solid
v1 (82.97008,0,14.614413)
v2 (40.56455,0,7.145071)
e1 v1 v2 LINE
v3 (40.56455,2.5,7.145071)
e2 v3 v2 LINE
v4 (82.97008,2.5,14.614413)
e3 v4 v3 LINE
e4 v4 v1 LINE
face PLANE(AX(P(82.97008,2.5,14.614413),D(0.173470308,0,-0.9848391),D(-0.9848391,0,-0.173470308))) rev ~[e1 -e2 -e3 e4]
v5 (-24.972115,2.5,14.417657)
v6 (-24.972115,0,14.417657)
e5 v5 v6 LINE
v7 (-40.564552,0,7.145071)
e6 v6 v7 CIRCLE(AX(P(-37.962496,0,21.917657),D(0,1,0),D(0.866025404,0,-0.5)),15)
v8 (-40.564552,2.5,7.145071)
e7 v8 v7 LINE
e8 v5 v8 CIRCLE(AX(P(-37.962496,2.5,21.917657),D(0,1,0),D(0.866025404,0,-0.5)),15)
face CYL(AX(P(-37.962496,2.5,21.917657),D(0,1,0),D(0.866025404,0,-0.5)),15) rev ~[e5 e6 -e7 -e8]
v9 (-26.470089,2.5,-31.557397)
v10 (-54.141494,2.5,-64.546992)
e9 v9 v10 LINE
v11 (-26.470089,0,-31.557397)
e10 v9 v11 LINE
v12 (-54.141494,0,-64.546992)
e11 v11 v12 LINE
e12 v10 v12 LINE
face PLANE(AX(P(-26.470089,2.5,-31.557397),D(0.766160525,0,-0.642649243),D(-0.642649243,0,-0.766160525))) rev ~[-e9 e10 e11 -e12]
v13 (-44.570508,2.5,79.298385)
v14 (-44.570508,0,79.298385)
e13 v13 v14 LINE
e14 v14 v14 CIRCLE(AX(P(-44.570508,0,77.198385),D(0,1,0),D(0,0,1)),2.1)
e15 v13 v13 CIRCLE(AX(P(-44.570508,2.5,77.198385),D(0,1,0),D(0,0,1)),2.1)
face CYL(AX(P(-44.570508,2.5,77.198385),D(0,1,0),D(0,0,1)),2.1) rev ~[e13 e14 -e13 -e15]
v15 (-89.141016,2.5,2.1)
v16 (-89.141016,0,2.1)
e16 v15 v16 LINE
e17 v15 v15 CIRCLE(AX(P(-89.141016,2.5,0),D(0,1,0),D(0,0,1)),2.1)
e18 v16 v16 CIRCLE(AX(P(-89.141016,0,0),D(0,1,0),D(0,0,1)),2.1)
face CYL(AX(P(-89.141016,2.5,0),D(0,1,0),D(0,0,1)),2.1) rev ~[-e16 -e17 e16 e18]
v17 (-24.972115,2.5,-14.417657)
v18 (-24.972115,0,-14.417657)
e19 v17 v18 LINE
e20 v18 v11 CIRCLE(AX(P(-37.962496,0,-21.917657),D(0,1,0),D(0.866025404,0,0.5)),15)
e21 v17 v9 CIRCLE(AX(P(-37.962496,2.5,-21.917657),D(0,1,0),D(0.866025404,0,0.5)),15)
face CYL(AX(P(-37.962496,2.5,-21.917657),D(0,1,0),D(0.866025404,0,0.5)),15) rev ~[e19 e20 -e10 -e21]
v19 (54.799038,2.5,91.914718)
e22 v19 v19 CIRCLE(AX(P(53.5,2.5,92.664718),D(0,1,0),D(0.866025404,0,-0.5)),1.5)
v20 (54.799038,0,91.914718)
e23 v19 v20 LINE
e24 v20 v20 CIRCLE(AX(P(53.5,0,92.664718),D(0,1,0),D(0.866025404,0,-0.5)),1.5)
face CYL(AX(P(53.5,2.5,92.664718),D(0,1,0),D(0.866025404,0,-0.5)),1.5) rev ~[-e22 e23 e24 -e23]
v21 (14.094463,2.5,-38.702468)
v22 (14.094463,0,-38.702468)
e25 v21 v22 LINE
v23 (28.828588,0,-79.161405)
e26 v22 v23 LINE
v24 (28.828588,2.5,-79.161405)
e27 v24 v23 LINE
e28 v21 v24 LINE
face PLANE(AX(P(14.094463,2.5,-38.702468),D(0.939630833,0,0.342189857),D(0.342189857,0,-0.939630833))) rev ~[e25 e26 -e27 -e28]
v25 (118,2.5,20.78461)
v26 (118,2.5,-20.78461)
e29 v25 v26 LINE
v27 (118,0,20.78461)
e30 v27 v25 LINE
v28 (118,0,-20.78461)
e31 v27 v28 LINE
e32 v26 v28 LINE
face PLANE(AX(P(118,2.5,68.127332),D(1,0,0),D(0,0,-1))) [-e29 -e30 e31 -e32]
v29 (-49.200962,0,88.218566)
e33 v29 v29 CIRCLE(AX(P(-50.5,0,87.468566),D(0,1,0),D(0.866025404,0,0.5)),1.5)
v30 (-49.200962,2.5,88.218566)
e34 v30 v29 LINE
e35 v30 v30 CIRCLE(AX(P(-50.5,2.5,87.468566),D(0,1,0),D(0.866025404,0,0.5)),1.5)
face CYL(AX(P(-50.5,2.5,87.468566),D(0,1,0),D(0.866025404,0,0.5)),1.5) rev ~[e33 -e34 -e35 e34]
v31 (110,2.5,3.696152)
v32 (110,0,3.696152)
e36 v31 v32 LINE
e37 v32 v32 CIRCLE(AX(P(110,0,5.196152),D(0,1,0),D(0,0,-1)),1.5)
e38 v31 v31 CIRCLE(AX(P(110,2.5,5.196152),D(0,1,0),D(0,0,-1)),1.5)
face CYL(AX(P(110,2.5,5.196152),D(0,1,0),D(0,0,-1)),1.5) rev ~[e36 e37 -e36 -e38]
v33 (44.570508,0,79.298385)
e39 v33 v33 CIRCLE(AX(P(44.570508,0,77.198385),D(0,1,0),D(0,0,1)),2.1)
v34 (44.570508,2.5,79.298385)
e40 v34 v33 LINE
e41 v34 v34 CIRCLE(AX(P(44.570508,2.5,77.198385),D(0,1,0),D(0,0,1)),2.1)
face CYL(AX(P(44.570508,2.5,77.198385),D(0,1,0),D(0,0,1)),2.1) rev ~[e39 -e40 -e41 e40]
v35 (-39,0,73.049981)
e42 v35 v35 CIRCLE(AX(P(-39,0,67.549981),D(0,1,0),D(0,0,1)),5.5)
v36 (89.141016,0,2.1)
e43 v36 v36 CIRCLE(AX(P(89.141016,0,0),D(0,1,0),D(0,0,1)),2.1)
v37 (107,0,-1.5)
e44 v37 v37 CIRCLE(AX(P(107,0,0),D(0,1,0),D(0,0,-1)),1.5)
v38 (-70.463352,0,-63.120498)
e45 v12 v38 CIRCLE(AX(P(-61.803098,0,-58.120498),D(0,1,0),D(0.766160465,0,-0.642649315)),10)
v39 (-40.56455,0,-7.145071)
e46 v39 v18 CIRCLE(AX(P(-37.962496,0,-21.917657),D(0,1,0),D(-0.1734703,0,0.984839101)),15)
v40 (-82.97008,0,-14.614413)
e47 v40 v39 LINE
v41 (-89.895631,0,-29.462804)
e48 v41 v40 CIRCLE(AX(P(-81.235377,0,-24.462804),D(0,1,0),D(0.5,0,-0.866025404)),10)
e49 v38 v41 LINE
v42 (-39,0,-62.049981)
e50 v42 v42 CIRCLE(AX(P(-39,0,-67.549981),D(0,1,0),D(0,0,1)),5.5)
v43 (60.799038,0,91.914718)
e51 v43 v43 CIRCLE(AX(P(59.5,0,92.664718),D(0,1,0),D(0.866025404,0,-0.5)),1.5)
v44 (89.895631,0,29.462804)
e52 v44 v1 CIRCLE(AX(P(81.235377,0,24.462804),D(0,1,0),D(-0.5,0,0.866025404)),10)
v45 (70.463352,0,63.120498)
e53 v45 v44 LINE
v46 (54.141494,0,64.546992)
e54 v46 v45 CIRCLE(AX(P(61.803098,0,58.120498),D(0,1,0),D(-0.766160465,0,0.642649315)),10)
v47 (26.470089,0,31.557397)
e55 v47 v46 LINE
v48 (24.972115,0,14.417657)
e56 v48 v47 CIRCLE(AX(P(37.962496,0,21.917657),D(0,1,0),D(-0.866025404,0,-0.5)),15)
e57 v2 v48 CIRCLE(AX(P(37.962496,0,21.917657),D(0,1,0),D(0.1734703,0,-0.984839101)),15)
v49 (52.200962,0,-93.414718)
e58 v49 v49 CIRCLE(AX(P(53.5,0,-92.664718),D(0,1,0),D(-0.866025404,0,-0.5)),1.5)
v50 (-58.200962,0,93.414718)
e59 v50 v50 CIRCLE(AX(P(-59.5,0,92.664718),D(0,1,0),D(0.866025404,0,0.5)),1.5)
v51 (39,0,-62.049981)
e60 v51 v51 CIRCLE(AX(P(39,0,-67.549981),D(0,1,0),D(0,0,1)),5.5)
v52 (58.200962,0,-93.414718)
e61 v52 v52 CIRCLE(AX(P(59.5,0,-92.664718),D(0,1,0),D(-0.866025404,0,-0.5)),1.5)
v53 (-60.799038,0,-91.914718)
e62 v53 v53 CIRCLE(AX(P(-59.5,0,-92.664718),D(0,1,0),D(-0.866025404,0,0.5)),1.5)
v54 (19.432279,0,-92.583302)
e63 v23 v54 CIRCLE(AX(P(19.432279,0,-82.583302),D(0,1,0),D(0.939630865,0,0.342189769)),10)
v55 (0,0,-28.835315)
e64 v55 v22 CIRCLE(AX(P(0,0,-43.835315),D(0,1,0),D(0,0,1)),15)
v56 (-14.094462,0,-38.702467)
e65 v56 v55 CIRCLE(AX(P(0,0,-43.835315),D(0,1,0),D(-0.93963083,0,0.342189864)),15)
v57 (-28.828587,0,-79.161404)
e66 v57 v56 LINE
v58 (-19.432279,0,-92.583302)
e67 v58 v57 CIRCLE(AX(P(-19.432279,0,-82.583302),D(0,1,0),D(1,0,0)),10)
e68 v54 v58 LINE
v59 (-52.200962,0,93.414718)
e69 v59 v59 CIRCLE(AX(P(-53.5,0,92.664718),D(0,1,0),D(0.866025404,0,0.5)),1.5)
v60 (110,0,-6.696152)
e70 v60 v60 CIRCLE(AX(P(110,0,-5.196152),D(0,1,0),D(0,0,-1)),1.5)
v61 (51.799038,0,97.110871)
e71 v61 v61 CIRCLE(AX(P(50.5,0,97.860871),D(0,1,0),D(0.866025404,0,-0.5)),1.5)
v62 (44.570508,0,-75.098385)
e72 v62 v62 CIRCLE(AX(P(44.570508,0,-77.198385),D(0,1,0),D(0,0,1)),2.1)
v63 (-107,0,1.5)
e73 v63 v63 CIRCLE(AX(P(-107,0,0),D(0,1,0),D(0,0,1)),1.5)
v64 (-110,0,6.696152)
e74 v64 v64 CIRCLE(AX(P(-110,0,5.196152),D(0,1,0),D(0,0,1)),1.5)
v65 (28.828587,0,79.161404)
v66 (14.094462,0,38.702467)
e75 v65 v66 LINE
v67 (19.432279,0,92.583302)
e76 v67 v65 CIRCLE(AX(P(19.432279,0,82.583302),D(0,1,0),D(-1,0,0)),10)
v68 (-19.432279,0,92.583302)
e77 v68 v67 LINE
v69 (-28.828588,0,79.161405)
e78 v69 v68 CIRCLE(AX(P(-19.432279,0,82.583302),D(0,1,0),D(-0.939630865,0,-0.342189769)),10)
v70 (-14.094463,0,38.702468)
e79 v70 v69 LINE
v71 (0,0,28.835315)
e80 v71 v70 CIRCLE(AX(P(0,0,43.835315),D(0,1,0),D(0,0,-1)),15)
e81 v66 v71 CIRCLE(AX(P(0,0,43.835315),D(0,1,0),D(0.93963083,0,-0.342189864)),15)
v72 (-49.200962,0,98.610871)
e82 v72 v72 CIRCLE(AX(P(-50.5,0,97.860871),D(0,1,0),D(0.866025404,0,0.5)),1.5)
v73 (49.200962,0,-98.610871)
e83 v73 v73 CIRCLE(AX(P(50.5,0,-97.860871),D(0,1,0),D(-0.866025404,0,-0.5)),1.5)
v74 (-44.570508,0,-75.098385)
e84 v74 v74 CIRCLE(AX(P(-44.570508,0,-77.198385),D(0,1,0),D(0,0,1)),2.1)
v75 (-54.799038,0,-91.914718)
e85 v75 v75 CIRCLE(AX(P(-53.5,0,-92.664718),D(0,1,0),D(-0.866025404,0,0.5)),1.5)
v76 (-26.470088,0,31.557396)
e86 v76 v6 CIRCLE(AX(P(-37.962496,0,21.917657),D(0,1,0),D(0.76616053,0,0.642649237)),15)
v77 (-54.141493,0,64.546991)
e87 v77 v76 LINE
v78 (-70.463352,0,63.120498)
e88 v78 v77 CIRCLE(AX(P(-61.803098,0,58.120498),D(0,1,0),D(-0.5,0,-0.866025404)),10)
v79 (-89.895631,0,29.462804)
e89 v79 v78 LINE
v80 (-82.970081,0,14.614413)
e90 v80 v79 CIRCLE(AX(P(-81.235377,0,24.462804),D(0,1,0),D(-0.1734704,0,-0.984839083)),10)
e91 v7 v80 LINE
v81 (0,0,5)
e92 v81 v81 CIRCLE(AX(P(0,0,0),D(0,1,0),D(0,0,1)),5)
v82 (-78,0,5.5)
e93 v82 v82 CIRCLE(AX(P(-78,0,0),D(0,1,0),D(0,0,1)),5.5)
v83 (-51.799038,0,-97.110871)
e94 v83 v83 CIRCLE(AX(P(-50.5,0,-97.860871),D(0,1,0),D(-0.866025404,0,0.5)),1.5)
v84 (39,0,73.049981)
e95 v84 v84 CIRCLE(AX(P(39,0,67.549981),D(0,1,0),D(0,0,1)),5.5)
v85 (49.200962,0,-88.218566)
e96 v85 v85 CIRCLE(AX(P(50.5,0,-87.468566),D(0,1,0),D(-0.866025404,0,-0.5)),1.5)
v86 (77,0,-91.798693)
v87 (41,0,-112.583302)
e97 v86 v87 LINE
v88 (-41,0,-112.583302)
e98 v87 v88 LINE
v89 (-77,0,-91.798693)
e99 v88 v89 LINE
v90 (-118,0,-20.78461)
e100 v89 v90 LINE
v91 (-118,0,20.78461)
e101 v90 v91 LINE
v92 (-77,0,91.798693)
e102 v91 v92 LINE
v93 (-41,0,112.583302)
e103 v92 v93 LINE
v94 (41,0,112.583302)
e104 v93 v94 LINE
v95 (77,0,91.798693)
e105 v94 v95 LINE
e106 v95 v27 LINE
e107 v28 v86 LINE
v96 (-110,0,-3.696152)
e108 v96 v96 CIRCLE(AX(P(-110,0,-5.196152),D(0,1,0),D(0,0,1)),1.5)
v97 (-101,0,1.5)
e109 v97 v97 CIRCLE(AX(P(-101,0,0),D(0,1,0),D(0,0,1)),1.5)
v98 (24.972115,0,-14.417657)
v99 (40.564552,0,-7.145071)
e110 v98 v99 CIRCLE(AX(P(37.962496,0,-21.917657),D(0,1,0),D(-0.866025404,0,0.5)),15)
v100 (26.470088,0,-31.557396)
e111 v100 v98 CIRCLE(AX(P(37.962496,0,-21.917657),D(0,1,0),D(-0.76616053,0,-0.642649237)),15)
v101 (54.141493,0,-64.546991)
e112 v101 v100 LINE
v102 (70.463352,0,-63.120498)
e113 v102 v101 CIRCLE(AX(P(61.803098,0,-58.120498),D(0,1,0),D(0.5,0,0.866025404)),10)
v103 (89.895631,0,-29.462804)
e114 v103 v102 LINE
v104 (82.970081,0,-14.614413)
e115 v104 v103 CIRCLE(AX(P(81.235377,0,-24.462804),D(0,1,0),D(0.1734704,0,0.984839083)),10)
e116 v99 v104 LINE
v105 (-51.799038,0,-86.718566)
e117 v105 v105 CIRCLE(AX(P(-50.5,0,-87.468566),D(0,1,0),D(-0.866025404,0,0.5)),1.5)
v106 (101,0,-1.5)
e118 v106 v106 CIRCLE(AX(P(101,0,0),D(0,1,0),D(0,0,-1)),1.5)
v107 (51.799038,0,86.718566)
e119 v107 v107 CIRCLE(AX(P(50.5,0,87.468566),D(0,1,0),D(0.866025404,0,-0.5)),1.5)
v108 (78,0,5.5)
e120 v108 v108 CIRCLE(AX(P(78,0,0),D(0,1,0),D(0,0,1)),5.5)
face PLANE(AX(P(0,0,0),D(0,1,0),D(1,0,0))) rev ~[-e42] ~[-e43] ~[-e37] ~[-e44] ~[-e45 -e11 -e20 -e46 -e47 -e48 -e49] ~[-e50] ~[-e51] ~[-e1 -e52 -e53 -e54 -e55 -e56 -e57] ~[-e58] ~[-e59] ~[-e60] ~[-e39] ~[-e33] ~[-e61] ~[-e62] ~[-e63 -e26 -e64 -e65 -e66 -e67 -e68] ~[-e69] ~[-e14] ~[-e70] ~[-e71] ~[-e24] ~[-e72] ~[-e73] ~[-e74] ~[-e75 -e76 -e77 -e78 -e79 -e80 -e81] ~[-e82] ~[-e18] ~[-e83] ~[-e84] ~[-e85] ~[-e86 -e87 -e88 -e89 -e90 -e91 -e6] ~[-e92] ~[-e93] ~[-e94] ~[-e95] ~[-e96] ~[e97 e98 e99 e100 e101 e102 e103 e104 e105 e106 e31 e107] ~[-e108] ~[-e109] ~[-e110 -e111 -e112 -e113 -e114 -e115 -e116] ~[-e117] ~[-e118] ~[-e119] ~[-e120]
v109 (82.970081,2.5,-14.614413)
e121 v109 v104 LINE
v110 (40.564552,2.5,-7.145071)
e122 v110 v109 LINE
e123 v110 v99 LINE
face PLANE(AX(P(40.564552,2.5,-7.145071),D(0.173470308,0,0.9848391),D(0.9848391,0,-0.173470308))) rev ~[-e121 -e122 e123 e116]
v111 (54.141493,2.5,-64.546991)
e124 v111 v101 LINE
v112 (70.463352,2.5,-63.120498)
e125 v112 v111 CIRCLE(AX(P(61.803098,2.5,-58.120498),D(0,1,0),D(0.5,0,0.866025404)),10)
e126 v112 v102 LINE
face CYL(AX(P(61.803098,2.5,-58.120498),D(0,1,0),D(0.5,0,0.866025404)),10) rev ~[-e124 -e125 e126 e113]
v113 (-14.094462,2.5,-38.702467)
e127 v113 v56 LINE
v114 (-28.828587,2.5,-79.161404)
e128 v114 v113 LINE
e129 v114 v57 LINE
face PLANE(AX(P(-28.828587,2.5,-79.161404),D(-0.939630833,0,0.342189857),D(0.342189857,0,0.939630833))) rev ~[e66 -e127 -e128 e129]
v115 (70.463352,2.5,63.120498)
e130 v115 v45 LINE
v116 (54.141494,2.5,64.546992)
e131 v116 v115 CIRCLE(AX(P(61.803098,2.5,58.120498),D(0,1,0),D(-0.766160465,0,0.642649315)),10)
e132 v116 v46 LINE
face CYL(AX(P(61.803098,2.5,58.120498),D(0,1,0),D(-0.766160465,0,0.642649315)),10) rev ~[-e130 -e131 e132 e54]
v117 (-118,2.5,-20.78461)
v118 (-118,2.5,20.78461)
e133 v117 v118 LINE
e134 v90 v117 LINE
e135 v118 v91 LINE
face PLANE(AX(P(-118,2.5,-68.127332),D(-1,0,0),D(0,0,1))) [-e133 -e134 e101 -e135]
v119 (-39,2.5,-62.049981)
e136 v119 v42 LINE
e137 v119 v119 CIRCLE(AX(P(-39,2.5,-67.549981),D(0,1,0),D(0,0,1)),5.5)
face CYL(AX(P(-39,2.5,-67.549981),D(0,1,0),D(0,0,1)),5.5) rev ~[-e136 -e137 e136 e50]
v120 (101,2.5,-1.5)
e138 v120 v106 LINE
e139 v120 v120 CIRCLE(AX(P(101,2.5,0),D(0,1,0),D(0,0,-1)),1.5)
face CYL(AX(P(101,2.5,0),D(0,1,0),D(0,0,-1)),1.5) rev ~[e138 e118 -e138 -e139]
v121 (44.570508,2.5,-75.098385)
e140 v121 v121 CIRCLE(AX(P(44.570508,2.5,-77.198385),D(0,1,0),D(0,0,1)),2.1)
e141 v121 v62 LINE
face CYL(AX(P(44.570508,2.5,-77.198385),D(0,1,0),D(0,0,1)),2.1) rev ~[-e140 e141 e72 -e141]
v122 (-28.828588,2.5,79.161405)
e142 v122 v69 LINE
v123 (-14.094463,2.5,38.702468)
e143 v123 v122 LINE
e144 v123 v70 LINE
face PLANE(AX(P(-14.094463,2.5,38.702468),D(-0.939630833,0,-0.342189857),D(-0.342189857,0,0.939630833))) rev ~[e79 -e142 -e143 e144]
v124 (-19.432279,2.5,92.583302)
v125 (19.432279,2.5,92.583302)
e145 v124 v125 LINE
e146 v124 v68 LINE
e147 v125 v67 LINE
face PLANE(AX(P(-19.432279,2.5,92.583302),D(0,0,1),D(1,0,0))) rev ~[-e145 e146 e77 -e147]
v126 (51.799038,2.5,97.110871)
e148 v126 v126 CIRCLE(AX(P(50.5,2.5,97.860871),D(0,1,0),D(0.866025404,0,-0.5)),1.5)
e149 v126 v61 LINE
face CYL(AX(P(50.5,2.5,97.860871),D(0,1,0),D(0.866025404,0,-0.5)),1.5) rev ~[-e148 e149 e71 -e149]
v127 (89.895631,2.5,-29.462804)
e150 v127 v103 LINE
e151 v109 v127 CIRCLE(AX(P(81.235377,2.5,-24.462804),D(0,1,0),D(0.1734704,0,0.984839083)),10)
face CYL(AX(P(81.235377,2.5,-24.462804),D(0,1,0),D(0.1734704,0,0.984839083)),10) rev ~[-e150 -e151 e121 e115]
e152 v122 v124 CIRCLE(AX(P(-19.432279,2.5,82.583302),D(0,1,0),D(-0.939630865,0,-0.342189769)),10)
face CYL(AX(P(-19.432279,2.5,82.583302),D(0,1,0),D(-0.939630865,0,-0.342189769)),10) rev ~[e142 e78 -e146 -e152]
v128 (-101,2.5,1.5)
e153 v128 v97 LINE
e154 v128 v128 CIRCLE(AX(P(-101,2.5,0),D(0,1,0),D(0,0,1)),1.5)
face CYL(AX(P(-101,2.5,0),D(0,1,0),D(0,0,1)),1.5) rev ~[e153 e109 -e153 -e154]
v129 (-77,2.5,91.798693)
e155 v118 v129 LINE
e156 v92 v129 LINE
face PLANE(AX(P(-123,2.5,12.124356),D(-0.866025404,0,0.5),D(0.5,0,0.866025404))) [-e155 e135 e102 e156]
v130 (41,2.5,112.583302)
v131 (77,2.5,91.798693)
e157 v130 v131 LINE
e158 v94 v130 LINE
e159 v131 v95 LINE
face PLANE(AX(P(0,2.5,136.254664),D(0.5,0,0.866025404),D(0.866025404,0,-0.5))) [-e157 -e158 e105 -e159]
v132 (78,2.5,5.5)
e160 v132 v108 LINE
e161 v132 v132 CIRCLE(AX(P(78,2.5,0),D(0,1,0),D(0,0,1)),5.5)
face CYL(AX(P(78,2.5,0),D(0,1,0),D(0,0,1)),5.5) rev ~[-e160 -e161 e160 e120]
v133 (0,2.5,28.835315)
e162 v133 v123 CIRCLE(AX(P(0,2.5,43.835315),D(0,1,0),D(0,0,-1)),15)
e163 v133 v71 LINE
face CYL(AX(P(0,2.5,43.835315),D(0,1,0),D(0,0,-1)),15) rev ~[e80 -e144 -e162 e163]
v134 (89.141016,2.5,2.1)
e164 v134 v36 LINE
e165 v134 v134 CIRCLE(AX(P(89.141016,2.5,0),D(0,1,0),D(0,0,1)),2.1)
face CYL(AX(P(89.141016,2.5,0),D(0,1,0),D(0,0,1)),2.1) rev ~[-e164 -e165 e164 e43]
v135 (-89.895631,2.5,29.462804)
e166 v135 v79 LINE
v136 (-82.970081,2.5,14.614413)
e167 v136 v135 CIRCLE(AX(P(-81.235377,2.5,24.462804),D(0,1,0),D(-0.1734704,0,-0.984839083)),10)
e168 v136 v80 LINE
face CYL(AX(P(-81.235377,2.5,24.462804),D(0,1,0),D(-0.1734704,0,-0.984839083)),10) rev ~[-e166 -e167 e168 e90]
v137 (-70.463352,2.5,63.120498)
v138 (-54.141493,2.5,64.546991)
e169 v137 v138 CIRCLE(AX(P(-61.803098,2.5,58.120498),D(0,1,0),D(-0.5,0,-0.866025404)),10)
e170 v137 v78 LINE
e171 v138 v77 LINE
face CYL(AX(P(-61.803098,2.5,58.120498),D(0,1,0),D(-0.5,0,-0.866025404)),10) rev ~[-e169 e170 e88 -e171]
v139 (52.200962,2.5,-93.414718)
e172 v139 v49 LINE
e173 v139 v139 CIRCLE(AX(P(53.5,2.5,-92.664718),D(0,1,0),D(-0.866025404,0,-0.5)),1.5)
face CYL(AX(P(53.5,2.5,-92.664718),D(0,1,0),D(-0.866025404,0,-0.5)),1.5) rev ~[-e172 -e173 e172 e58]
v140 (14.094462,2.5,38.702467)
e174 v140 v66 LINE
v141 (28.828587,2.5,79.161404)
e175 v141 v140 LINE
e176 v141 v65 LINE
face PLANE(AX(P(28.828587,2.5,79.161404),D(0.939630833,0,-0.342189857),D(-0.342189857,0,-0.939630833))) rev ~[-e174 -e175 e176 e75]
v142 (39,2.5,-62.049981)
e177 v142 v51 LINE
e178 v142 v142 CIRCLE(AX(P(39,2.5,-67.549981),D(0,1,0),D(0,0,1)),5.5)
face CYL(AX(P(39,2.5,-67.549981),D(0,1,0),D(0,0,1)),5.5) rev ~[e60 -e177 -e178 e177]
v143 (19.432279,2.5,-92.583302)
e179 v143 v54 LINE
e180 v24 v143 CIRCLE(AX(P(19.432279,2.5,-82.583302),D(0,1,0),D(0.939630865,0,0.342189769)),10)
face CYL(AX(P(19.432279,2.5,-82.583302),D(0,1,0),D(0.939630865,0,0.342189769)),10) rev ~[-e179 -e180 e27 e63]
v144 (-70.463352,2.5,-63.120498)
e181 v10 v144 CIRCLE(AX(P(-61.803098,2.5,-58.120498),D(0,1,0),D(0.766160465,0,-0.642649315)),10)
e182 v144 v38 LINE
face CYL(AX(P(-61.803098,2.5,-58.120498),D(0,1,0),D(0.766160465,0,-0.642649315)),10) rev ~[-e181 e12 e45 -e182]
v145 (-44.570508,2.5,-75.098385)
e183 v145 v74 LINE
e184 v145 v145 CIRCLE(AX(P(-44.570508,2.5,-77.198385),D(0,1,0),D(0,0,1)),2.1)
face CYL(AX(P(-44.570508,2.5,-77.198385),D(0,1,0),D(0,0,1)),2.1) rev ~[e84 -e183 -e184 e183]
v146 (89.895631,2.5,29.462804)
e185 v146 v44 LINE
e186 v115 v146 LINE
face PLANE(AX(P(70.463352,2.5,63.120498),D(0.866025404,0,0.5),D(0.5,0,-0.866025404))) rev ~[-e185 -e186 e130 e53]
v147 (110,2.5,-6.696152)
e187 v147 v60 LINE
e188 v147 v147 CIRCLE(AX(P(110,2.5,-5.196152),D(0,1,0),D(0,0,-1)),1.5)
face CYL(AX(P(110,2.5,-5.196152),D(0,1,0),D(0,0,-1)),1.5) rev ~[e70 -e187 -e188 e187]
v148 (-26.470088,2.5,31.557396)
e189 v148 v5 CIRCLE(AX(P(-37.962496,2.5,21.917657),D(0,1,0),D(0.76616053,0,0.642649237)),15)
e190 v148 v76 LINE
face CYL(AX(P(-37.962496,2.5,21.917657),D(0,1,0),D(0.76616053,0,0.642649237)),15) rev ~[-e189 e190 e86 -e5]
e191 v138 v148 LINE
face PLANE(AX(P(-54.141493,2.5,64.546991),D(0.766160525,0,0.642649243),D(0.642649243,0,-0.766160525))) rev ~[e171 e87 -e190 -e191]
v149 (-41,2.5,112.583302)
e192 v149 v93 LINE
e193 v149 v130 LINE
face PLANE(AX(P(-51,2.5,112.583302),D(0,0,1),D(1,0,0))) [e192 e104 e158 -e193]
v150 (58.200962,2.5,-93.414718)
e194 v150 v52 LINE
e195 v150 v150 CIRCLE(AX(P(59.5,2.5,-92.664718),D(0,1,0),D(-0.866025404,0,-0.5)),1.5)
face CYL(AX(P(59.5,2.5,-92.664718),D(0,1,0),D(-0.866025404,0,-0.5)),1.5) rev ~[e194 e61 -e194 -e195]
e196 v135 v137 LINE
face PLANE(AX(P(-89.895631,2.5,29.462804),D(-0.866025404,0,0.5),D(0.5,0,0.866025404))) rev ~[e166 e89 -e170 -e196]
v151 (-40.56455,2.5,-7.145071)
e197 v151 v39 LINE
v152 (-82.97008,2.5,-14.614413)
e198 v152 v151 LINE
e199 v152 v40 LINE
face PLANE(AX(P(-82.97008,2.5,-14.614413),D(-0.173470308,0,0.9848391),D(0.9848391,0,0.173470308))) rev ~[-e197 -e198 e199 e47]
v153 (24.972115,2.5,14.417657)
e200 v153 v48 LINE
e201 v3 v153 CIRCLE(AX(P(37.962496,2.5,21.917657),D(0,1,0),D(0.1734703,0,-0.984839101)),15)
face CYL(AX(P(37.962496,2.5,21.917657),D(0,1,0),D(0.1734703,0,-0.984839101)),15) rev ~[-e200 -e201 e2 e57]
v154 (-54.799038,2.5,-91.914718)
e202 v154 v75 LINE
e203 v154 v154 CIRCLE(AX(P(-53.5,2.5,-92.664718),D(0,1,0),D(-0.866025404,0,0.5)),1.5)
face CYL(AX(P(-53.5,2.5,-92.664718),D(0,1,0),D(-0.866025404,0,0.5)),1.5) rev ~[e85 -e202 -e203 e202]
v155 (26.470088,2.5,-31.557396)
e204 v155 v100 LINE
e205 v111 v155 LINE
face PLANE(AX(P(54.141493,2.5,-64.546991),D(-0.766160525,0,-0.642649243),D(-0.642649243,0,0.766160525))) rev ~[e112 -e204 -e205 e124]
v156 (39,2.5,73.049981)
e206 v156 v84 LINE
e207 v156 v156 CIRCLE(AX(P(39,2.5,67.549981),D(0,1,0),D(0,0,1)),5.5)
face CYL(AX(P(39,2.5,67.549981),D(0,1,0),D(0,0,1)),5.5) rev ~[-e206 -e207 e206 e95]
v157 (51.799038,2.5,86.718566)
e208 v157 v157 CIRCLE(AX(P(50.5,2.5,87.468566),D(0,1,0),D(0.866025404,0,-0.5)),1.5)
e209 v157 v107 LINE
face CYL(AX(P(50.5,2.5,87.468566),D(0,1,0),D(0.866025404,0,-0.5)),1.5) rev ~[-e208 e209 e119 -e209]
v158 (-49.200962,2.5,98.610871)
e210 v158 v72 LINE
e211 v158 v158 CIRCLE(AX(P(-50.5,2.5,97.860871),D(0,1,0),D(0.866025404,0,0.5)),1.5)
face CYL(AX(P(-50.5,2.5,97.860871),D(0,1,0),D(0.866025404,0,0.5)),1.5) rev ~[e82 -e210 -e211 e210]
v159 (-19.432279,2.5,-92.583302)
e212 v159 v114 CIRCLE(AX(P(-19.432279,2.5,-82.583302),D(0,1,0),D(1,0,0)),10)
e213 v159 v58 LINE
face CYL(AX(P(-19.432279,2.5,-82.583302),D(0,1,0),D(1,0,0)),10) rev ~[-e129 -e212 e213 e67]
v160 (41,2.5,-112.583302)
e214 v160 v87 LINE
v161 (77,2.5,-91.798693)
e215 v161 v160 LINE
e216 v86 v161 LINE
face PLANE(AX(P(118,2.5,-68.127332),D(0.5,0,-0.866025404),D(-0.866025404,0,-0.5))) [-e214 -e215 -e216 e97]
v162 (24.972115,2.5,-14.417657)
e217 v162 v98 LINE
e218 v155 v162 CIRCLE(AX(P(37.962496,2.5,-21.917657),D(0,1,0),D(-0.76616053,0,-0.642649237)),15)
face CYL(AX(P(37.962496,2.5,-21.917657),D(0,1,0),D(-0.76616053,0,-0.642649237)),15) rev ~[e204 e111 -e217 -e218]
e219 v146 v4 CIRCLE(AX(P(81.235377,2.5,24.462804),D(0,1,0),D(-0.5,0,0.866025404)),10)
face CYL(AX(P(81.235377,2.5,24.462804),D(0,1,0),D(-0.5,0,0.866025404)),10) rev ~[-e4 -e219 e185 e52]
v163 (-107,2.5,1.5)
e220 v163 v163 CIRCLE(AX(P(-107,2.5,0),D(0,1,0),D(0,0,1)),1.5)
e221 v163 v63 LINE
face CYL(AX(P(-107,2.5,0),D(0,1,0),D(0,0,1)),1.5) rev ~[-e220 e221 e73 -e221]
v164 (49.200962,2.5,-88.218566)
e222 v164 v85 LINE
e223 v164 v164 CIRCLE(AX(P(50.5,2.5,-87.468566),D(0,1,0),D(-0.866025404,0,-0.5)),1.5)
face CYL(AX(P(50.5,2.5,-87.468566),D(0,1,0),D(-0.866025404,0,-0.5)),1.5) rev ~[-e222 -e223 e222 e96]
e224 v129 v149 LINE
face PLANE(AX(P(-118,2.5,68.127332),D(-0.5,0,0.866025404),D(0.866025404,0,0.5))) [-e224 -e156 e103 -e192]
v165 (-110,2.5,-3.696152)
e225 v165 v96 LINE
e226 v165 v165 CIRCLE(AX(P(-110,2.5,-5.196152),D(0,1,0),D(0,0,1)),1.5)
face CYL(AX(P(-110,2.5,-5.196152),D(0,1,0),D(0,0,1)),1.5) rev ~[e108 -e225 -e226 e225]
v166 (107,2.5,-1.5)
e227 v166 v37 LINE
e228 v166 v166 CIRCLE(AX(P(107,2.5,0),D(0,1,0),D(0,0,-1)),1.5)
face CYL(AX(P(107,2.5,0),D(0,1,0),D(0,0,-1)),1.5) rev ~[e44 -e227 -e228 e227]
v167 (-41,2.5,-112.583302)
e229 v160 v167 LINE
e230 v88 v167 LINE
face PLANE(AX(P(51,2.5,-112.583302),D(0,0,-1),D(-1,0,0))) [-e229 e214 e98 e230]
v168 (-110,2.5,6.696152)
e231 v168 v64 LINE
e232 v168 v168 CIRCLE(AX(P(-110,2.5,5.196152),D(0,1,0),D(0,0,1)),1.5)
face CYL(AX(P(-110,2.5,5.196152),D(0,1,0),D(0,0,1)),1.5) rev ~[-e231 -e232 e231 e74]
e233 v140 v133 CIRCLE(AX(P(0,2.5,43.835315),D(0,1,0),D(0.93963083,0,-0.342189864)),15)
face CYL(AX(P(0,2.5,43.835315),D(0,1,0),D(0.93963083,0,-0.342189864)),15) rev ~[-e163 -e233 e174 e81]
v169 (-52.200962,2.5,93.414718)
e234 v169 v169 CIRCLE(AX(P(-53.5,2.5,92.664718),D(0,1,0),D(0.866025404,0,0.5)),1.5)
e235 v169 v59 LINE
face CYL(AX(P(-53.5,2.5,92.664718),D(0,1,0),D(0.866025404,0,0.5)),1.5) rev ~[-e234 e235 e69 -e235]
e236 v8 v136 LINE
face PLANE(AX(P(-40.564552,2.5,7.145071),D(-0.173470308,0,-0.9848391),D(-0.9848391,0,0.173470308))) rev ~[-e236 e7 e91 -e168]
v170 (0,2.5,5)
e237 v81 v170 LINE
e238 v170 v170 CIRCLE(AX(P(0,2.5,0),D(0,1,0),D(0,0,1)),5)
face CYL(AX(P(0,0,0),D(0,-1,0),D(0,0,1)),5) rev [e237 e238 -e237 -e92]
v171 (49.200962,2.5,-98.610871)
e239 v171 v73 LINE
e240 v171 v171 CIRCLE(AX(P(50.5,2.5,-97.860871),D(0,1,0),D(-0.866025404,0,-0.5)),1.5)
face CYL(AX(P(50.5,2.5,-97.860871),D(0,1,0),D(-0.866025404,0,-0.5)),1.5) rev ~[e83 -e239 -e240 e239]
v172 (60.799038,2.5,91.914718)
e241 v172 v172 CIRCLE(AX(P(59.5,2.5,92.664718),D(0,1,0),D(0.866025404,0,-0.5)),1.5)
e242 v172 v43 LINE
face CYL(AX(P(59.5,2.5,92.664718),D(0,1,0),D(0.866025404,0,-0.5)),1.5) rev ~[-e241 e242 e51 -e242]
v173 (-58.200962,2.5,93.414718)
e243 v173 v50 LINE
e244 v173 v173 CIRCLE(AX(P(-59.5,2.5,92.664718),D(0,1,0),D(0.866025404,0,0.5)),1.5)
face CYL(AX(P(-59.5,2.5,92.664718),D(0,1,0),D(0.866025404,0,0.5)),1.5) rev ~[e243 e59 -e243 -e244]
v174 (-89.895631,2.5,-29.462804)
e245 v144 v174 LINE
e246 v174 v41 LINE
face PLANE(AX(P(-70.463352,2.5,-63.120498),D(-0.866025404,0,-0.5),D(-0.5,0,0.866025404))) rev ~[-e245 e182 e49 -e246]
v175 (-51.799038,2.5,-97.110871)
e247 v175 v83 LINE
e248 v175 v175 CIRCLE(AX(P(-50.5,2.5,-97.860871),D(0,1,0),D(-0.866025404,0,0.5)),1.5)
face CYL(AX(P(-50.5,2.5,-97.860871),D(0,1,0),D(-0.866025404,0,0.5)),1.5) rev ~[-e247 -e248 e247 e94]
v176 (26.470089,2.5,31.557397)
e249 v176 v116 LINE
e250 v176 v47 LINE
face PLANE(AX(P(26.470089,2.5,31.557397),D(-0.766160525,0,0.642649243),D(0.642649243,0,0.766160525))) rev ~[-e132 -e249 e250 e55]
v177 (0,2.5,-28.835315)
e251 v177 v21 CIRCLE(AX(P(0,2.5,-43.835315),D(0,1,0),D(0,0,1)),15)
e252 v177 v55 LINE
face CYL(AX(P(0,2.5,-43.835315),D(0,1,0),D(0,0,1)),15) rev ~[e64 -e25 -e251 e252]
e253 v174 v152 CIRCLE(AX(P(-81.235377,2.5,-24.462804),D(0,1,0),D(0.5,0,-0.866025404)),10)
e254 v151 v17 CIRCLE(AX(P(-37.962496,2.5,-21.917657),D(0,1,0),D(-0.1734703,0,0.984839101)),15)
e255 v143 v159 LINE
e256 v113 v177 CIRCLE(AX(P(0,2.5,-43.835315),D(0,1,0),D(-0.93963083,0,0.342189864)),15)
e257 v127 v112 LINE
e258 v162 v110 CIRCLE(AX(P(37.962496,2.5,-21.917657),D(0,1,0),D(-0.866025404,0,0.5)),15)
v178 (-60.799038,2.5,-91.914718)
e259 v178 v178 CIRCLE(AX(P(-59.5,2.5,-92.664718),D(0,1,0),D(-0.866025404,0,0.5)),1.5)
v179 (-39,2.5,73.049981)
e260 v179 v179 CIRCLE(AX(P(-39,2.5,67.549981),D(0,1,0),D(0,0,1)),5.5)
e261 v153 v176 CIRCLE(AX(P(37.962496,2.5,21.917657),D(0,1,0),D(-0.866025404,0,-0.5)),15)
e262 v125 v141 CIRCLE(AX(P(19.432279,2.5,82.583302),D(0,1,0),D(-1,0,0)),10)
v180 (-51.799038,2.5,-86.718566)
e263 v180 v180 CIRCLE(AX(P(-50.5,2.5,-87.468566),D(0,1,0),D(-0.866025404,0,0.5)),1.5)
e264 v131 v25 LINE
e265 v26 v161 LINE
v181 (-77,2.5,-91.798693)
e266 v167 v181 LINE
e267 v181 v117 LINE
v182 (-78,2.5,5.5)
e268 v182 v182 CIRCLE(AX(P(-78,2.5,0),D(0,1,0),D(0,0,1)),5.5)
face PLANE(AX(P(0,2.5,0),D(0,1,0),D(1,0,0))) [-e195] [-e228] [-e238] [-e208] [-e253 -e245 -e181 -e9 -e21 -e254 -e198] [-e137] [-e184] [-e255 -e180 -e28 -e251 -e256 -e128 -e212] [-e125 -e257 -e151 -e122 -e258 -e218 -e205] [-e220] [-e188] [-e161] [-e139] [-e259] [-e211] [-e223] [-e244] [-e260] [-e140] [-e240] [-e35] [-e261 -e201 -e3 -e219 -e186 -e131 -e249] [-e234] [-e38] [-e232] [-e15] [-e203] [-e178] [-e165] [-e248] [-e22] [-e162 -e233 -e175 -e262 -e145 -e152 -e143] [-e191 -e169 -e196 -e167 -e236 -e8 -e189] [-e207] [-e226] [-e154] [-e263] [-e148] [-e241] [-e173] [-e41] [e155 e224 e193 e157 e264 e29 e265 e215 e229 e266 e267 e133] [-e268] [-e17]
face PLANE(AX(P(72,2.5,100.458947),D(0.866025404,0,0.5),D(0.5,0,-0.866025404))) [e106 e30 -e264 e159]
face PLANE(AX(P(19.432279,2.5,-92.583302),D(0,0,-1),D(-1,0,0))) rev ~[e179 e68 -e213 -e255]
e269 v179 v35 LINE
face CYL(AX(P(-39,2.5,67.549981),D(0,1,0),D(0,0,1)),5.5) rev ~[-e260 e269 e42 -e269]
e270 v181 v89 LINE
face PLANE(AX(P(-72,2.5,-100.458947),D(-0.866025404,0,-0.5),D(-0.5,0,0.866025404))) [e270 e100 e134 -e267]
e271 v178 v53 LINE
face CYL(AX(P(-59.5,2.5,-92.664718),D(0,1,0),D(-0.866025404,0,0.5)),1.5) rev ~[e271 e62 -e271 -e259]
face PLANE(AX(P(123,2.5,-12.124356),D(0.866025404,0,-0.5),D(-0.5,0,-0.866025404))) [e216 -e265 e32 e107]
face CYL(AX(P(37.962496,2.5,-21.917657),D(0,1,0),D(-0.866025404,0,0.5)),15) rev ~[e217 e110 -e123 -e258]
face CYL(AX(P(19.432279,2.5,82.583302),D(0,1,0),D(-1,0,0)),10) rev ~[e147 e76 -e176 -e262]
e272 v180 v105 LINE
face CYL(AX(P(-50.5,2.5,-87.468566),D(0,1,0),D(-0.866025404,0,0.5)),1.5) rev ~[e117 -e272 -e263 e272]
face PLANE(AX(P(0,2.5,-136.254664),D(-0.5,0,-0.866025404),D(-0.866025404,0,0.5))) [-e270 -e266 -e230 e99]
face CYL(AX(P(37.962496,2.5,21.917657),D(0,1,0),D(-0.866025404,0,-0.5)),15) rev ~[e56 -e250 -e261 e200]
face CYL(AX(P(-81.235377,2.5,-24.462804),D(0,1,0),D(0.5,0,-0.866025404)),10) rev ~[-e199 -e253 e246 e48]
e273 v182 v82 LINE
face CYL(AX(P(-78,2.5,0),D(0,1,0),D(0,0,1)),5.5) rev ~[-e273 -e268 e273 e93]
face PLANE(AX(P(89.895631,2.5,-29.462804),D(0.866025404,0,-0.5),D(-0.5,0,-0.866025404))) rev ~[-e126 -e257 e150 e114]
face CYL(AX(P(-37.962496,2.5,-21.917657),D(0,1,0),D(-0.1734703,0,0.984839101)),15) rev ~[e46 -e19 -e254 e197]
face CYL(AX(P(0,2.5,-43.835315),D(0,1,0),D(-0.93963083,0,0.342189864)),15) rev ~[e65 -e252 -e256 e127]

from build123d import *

# Parameters (mm, degrees)
SKETCH_2_R               = 5
EXTRUDE_1_DEPTH          = 2.5
EXTRUDE_2_DEPTH          = 2.5
SKETCH_5_R               = 2.1
CUT_EXTRUDE_2_DEPTH      = 10
CUT_EXTRUDE_3_DEPTH      = 10
EXTRUDE_3_DEPTH          = 2.5
SKETCH_11_R              = 1.5
CUT_EXTRUDE_4_DEPTH      = 167.76405488
PATTERN_CIRCULAR_1_COUNT = 6
CUT_EXTRUDE_12_DEPTH     = 2.5
SKETCH_13_R              = 5.5
CUT_EXTRUDE_13_DEPTH     = 10
SKETCH_14_R              = 10
CUT_EXTRUDE_14_DEPTH     = 10
PATTERN_CIRCULAR_2_COUNT = 6


with BuildPart() as part:
    # 草图2 → 凸台-拉伸1 (new body)
    with BuildSketch(Plane(origin=(0, 0, 0), x_dir=(1, 0, 0), z_dir=(0, 1, 0))):
        Polygon((-54.5, 0), (-27.25, -47.198384506), (27.25, -47.198384506), (54.5, 0), (27.25, 47.198384506), (-27.25, 47.198384506), align=None)
        with Locations(Location((0, 0, 0), (0, 0, 270))):
            Circle(SKETCH_2_R, mode=Mode.SUBTRACT)
    extrude(amount=EXTRUDE_1_DEPTH)

    # 草图4 → 凸台-拉伸2 (add)
    with BuildSketch(Plane(origin=(0, 2.5, 0), x_dir=(1, 0, 0), z_dir=(0, 1, 0))):
        Polygon((-100.688021535, 0), (-50.344010768, -87.198384506), (50.344010768, -87.198384506), (100.688021535, 0), (50.344010768, 87.198384506), (-50.344010768, 87.198384506), align=None)
        Polygon((-54.5, 0), (-27.25, -47.198384506), (27.25, -47.198384506), (54.5, 0), (27.25, 47.198384506), (-27.25, 47.198384506), align=None, mode=Mode.SUBTRACT)
    extrude(amount=-EXTRUDE_2_DEPTH)

    # 草图5 → 切除-拉伸2 (cut)
    with BuildSketch(Plane(origin=(0, 2.5, 0), x_dir=(1, 0, 0), z_dir=(0, 1, 0))):
        with Locations(Location((-44.570508076, 77.198384506, 0), (0, 0, 270))):
            Circle(SKETCH_5_R)
        with Locations(Location((44.570508076, 77.198384506, 0), (0, 0, 270))):
            Circle(SKETCH_5_R)
        with Locations(Location((89.141016151, 0, 0), (0, 0, 270))):
            Circle(SKETCH_5_R)
        with Locations(Location((44.570508076, -77.198384506, 0), (0, 0, 270))):
            Circle(SKETCH_5_R)
        with Locations(Location((-44.570508076, -77.198384506, 0), (0, 0, 270))):
            Circle(SKETCH_5_R)
        with Locations(Location((-89.141016151, 0, 0), (0, 0, 270))):
            Circle(SKETCH_5_R)
    extrude(amount=-CUT_EXTRUDE_2_DEPTH, mode=Mode.SUBTRACT)

    # 草图8 → 切除-拉伸3 (cut)
    with BuildSketch(Plane(origin=(0, 2.5, 0), x_dir=(1, 0, 0), z_dir=(0, 1, 0))):
        with BuildLine():
            ThreePointArc((-53.230762082, 82.198384561), (-49.57050806, 85.858638553), (-44.570508102, 87.198384506))
            Line((-44.570508102, 87.198384506), (-50.344010768, 87.198384506))
            Line((-50.344010768, 87.198384506), (-53.230762082, 82.198384561))
        make_face()
        with BuildLine():
            ThreePointArc((-44.570508102, 87.198384506), (-41.187416216, 86.608734631), (-38.203292274, 84.909322383))
            ThreePointArc((-38.203292274, 84.909322383), (-39.526928503, 86.034926004), (-40.817417051, 87.198384506))
            Line((-40.817417051, 87.198384506), (-44.570508102, 87.198384506))
        make_face()
        with BuildLine():
            ThreePointArc((-55.107307626, 78.948112336), (-54.74496737, 77.248787672), (-54.431984218, 75.539683719))
            ThreePointArc((-54.431984218, 75.539683719), (-54.411656187, 78.973716546), (-53.230762082, 82.198384561))
            Line((-53.230762082, 82.198384561), (-55.107307626, 78.948112336))
        make_face()
        with BuildLine():
            ThreePointArc((-40.817417051, 87.198384506), (-39.526928503, 86.034926004), (-38.203292274, 84.909322383))
            ThreePointArc((-38.203292274, 84.909322383), (1.369e-06, 71.174951736), (38.203294385, 84.909324126))
            ThreePointArc((38.203294385, 84.909324126), (39.526929533, 86.034926906), (40.817417051, 87.198384506))
            Line((40.817417051, 87.198384506), (-40.817417051, 87.198384506))
        make_face()
        with BuildLine():
            ThreePointArc((60, 131.174951736), (-23.989111873, 186.17061076), (-40.817417051, 87.198384506))
            Line((-40.817417051, 87.198384506), (40.817417051, 87.198384506))
            ThreePointArc((40.817417051, 87.198384506), (54.995659024, 107.185839862), (60, 131.174951736))
        make_face()
        with BuildLine():
            ThreePointArc((55.107307626, 78.948112336), (54.744967326, 77.248787452), (54.431984143, 75.539683277))
            ThreePointArc((54.431984143, 75.539683277), (61.639316282, 35.587475927), (92.635276654, 9.369639456))
            ThreePointArc((92.635276654, 9.369639456), (94.271895943, 8.78613873), (95.924724677, 8.25027217))
            Line((95.924724677, 8.25027217), (55.107307626, 78.948112336))
        make_face()
        with BuildLine():
            ThreePointArc((173.600840543, 65.587475868), (120.323489759, 125.209669618), (55.107307626, 78.948112336))
            Line((55.107307626, 78.948112336), (95.924724677, 8.25027217))
            ThreePointArc((95.924724677, 8.25027217), (149.23392242, 17.314466059), (173.600840543, 65.587475868))
        make_face()
        with BuildLine():
            ThreePointArc((95.924724677, -8.25027217), (94.271895905, -8.786138743), (92.635276579, -9.369639484))
            ThreePointArc((92.635276579, -9.369639484), (61.639316268, -35.587475951), (54.431984139, -75.539683251))
            ThreePointArc((54.431984139, -75.539683251), (54.744967324, -77.248787439), (55.107307626, -78.948112336))
            Line((55.107307626, -78.948112336), (95.924724677, -8.25027217))
        make_face()
        with BuildLine():
            ThreePointArc((173.600840543, -65.587475868), (149.23392242, -17.314466059), (95.924724677, -8.25027217))
            Line((95.924724677, -8.25027217), (55.107307626, -78.948112336))
            ThreePointArc((55.107307626, -78.948112336), (120.323489759, -125.209669618), (173.600840543, -65.587475868))
        make_face()
        with BuildLine():
            ThreePointArc((40.817417051, -87.198384506), (39.526928757, -86.034926226), (38.203292795, -84.909322813))
            ThreePointArc((38.203292795, -84.909322813), (2.5e-07, -71.174951736), (-38.20329241, -84.909322495))
            ThreePointArc((-38.20329241, -84.909322495), (-39.52692857, -86.034926062), (-40.817417051, -87.198384506))
            Line((-40.817417051, -87.198384506), (40.817417051, -87.198384506))
        make_face()
        with BuildLine():
            ThreePointArc((60, -131.174951736), (54.995659024, -107.185839862), (40.817417051, -87.198384506))
            Line((40.817417051, -87.198384506), (-40.817417051, -87.198384506))
            ThreePointArc((-40.817417051, -87.198384506), (-23.989111873, -186.17061076), (60, -131.174951736))
        make_face()
        with BuildLine():
            ThreePointArc((-53.600840543, -65.587475868), (-64.316290117, -31.367115127), (-92.635276851, -9.369639383))
            ThreePointArc((-92.635276851, -9.369639383), (-94.271896042, -8.786138696), (-95.924724677, -8.25027217))
            Line((-95.924724677, -8.25027217), (-55.107307626, -78.948112336))
            ThreePointArc((-55.107307626, -78.948112336), (-54.744967314, -77.248787392), (-54.431984123, -75.539683157))
            ThreePointArc((-54.431984123, -75.539683157), (-53.808987481, -70.580902286), (-53.600840543, -65.587475868))
        make_face()
        with BuildLine():
            Line((-55.107307626, -78.948112336), (-95.924724677, -8.25027217))
            ThreePointArc((-95.924724677, -8.25027217), (-165.56236477, -95.587475868), (-55.107307626, -78.948112336))
        make_face()
        with BuildLine():
            ThreePointArc((-53.600840543, 65.587475868), (-53.808987505, 70.58090257), (-54.431984218, 75.539683719))
            ThreePointArc((-54.431984218, 75.539683719), (-54.74496737, 77.248787672), (-55.107307626, 78.948112336))
            Line((-55.107307626, 78.948112336), (-95.924724677, 8.25027217))
            ThreePointArc((-95.924724677, 8.25027217), (-94.271896068, 8.786138688), (-92.635276901, 9.369639364))
            ThreePointArc((-92.635276901, 9.369639364), (-64.316290132, 31.367115105), (-53.600840543, 65.587475868))
        make_face()
        with BuildLine():
            Line((-95.924724677, 8.25027217), (-55.107307626, 78.948112336))
            ThreePointArc((-55.107307626, 78.948112336), (-165.56236477, 95.587475868), (-95.924724677, 8.25027217))
        make_face()
        with BuildLine():
            Line((50.344010768, 87.198384506), (44.570508076, 87.198384506))
            ThreePointArc((44.570508076, 87.198384506), (49.570508048, 85.85863856), (53.230762082, 82.198384561))
            Line((53.230762082, 82.198384561), (50.344010768, 87.198384506))
        make_face()
        with BuildLine():
            ThreePointArc((40.817417051, 87.198384506), (39.526929533, 86.034926906), (38.203294385, 84.909324126))
            ThreePointArc((38.203294385, 84.909324126), (41.187417492, 86.60873509), (44.570508076, 87.198384506))
            Line((44.570508076, 87.198384506), (40.817417051, 87.198384506))
        make_face()
        with BuildLine():
            ThreePointArc((54.570508076, 77.198384506), (54.535816919, 76.366146763), (54.431984143, 75.539683277))
            ThreePointArc((54.431984143, 75.539683277), (54.744967326, 77.248787452), (55.107307626, 78.948112336))
            Line((55.107307626, 78.948112336), (53.230762082, 82.198384561))
            ThreePointArc((53.230762082, 82.198384561), (54.22976633, 79.786574988), (54.570508076, 77.198384506))
        make_face()
        with BuildLine():
            ThreePointArc((95.924724677, 8.25027217), (94.271895943, 8.78613873), (92.635276654, 9.369639456))
            ThreePointArc((92.635276654, 9.369639456), (95.599072657, 7.635018413), (97.801270256, 4.999999885))
            Line((97.801270256, 4.999999885), (95.924724677, 8.25027217))
        make_face()
        with BuildLine():
            Line((100.688021535, 0), (97.801270256, 4.999999885))
            ThreePointArc((97.801270256, 4.999999885), (98.800274431, 2.588190387), (99.141016151, 0))
            ThreePointArc((99.141016151, 0), (98.800274434, -2.588190377), (97.801270266, -4.999999867))
            Line((97.801270266, -4.999999867), (100.688021535, 0))
        make_face()
        with BuildLine():
            ThreePointArc((97.801270266, -4.999999867), (95.599072634, -7.635018433), (92.635276579, -9.369639484))
            ThreePointArc((92.635276579, -9.369639484), (94.271895905, -8.786138743), (95.924724677, -8.25027217))
            Line((95.924724677, -8.25027217), (97.801270266, -4.999999867))
        make_face()
        with BuildLine():
            ThreePointArc((55.107307626, -78.948112336), (54.744967324, -77.248787439), (54.431984139, -75.539683251))
            ThreePointArc((54.431984139, -75.539683251), (54.535816918, -76.36614675), (54.570508076, -77.198384506))
            ThreePointArc((54.570508076, -77.198384506), (54.22976633, -79.786574988), (53.230762082, -82.198384561))
            Line((53.230762082, -82.198384561), (55.107307626, -78.948112336))
        make_face()
        with BuildLine():
            ThreePointArc((44.57050771, -87.198384506), (41.187416349, -86.608734679), (38.203292795, -84.909322813))
            ThreePointArc((38.203292795, -84.909322813), (39.526928757, -86.034926226), (40.817417051, -87.198384506))
            Line((40.817417051, -87.198384506), (44.57050771, -87.198384506))
        make_face()
        with BuildLine():
            Line((50.344010768, -87.198384506), (53.230762082, -82.198384561))
            ThreePointArc((53.230762082, -82.198384561), (49.57050789, -85.858638651), (44.57050771, -87.198384506))
            Line((44.57050771, -87.198384506), (50.344010768, -87.198384506))
        make_face()
        with BuildLine():
            ThreePointArc((-53.230762265, -82.198384244), (-54.41165627, -78.973716086), (-54.431984123, -75.539683157))
            ThreePointArc((-54.431984123, -75.539683157), (-54.744967314, -77.248787392), (-55.107307626, -78.948112336))
            Line((-55.107307626, -78.948112336), (-53.230762265, -82.198384244))
        make_face()
        with BuildLine():
            ThreePointArc((-44.570508076, -87.198384506), (-49.570508207, -85.858638468), (-53.230762265, -82.198384244))
            Line((-53.230762265, -82.198384244), (-50.344010768, -87.198384506))
            Line((-50.344010768, -87.198384506), (-44.570508076, -87.198384506))
        make_face()
        with BuildLine():
            ThreePointArc((-40.817417051, -87.198384506), (-39.52692857, -86.034926062), (-38.20329241, -84.909322495))
            ThreePointArc((-38.20329241, -84.909322495), (-41.187416286, -86.608734656), (-44.570508076, -87.198384506))
            Line((-44.570508076, -87.198384506), (-40.817417051, -87.198384506))
        make_face()
        with BuildLine():
            ThreePointArc((-97.801270363, -4.999999699), (-99.141016151, 2.462e-06), (-97.801267901, 5.000003963))
            Line((-97.801267901, 5.000003963), (-100.688021535, 0))
            Line((-100.688021535, 0), (-97.801270363, -4.999999699))
        make_face()
        with BuildLine():
            ThreePointArc((-97.801267901, 5.000003963), (-95.59907096, 7.635019849), (-92.635276901, 9.369639364))
            ThreePointArc((-92.635276901, 9.369639364), (-94.271896068, 8.786138688), (-95.924724677, 8.25027217))
            Line((-95.924724677, 8.25027217), (-97.801267901, 5.000003963))
        make_face()
        with BuildLine():
            ThreePointArc((-95.924724677, -8.25027217), (-94.271896042, -8.786138696), (-92.635276851, -9.369639383))
            ThreePointArc((-92.635276851, -9.369639383), (-95.599072819, -7.635018276), (-97.801270363, -4.999999699))
            Line((-97.801270363, -4.999999699), (-95.924724677, -8.25027217))
        make_face()
    extrude(amount=-CUT_EXTRUDE_3_DEPTH, mode=Mode.SUBTRACT)

    # 草图10 → 凸台-拉伸3 (add)
    with BuildSketch(Plane(origin=(0, 2.5, 0), x_dir=(1, 0, 0), z_dir=(0, 1, 0))):
        Polygon((-72, 100.458946839), (-123, 12.124355653), (-123, -12.124355653), (-72, -100.458946839), (-51, -112.583302492), (51, -112.583302492), (72, -100.458946839), (123, -12.124355653), (123, 12.124355653), (72, 100.458946839), (51, 112.583302492), (-51, 112.583302492), align=None)
        with BuildLine():
            ThreePointArc((-54.431984142, 75.539683272), (-49.570508076, 85.858638544), (-38.203292636, 84.909322682))
            ThreePointArc((-38.203292636, 84.909322682), (0, 71.174951736), (38.203292636, 84.909322682))
            ThreePointArc((38.203292636, 84.909322682), (49.570508076, 85.858638544), (54.431984142, 75.539683272))
            ThreePointArc((54.431984142, 75.539683272), (61.639316316, 35.587475868), (92.635276779, 9.36963941))
            ThreePointArc((92.635276779, 9.36963941), (99.141016151, 0), (92.635276779, -9.36963941))
            ThreePointArc((92.635276779, -9.36963941), (61.639316316, -35.587475868), (54.431984142, -75.539683272))
            ThreePointArc((54.431984142, -75.539683272), (49.570508076, -85.858638544), (38.203292636, -84.909322682))
            ThreePointArc((38.203292636, -84.909322682), (0, -71.174951736), (-38.203292636, -84.909322682))
            ThreePointArc((-38.203292636, -84.909322682), (-49.570508076, -85.858638544), (-54.431984142, -75.539683272))
            ThreePointArc((-54.431984142, -75.539683272), (-61.639316316, -35.587475868), (-92.635276779, -9.36963941))
            ThreePointArc((-92.635276779, -9.36963941), (-99.141016151, 0), (-92.635276779, 9.36963941))
            ThreePointArc((-92.635276779, 9.36963941), (-61.639316316, 35.587475868), (-54.431984142, 75.539683272))
        make_face(mode=Mode.SUBTRACT)
    extrude(amount=-EXTRUDE_3_DEPTH)

    # 草图11 → 切除-拉伸4 (cut, through all)
    with BuildSketch(Plane(origin=(0, 2.5, 0), x_dir=(1, 0, 0), z_dir=(0, 1, 0))):
        with Locations(Location((-107, 0, 0), (0, 0, 270))):
            Circle(SKETCH_11_R)
        with Locations(Location((-101, 0, 0), (0, 0, 270))):
            Circle(SKETCH_11_R)
        with Locations(Location((-110, -5.196152423, 0), (0, 0, 270))):
            Circle(SKETCH_11_R)
        with Locations(Location((-110, 5.196152423, 0), (0, 0, 270))):
            Circle(SKETCH_11_R)
    cut_extrude_4 = extrude(amount=-CUT_EXTRUDE_4_DEPTH, mode=Mode.SUBTRACT)

    # 阵列(圆周)1: 切除-拉伸4 ×6 about axis
    pattern_circular_1_axis = Axis((0, 0, 0), (0, 1, 0))
    for i in range(1, PATTERN_CIRCULAR_1_COUNT):
        add(cut_extrude_4.rotate(pattern_circular_1_axis, i * 360 / PATTERN_CIRCULAR_1_COUNT), mode=Mode.SUBTRACT)

    # 草图12 → 切除-拉伸12 (cut)
    with BuildSketch(Plane(origin=(0, 2.5, 0), x_dir=(1, 0, 0), z_dir=(0, 1, 0))):
        Polygon((-145.895993517, 84.233091131), (-145.895993517, -84.233091131), (0, -168.466182261), (145.895993517, -84.233091131), (145.895993517, 84.233091131), (0, 168.466182261), align=None)
        Polygon((-118, 68.127331764), (-118, -68.127331764), (0, -136.254663529), (118, -68.127331764), (118, 68.127331764), (0, 136.254663529), align=None, mode=Mode.SUBTRACT)
    extrude(amount=-CUT_EXTRUDE_12_DEPTH, mode=Mode.SUBTRACT)

    # 草图13 → 切除-拉伸13 (cut)
    with BuildSketch(Plane(origin=(0, 2.5, 0), x_dir=(1, 0, 0), z_dir=(0, 1, 0))):
        with Locations(Location((-78, 0, 0), (0, 0, 270))):
            Circle(SKETCH_13_R)
        with Locations(Location((-39, 67.549981495, 0), (0, 0, 270))):
            Circle(SKETCH_13_R)
        with Locations(Location((39, 67.549981495, 0), (0, 0, 270))):
            Circle(SKETCH_13_R)
        with Locations(Location((78, 0, 0), (0, 0, 270))):
            Circle(SKETCH_13_R)
        with Locations(Location((39, -67.549981495, 0), (0, 0, 270))):
            Circle(SKETCH_13_R)
        with Locations(Location((-39, -67.549981495, 0), (0, 0, 270))):
            Circle(SKETCH_13_R)
    extrude(amount=-CUT_EXTRUDE_13_DEPTH, mode=Mode.SUBTRACT)

    # 草图14 → 切除-拉伸14 (cut)
    with BuildSketch(Plane(origin=(0, 2.5, 0), x_dir=(1, 0, 0), z_dir=(0, 1, 0))):
        with Locations((19.432278941, 82.583302492)):
            Circle(SKETCH_14_R)
        with BuildLine():
            Line((19.432278941, 92.583302492), (0, 92.583302492))
            Line((0, 92.583302492), (0, 58.835314539))
            ThreePointArc((0, 58.835314539), (10.606601718, 54.441916257), (15, 43.835314539))
            ThreePointArc((15, 43.835314539), (14.771881109, 41.229258418), (14.094462866, 38.702467716))
            Line((14.094462866, 38.702467716), (28.82858759, 79.161404807))
            ThreePointArc((28.82858759, 79.161404807), (11.240240829, 76.848277507), (19.432278941, 92.583302492))
        make_face()
        with BuildLine():
            ThreePointArc((-9.432278941, 82.583302492), (-17.694907774, 72.735381827), (-28.828587227, 79.161403809))
            Line((-28.828587227, 79.161403809), (-14.09446245, 38.702466573))
            ThreePointArc((-14.09446245, 38.702466573), (-12.288057607, 52.437851389), (0, 58.835314539))
            Line((0, 58.835314539), (0, 92.583302492))
            Line((0, 92.583302492), (-19.432278941, 92.583302492))
            ThreePointArc((-19.432278941, 92.583302492), (-12.361211129, 89.654370304), (-9.432278941, 82.583302492))
        make_face()
        with Locations((-19.432278941, 82.583302492)):
            Circle(SKETCH_14_R)
        with BuildLine():
            ThreePointArc((0, 58.835314539), (-12.288057607, 52.437851389), (-14.09446245, 38.702466573))
            ThreePointArc((-14.09446245, 38.702466573), (-8.60253685, 31.547256932), (0, 28.835314539))
            Line((0, 28.835314539), (0, 58.835314539))
        make_face()
        with BuildLine():
            ThreePointArc((15, 43.835314539), (10.606601718, 54.441916257), (0, 58.835314539))
            Line((0, 58.835314539), (0, 28.835314539))
            ThreePointArc((0, 28.835314539), (8.602537348, 31.547257281), (14.094462866, 38.702467716))
            ThreePointArc((14.094462866, 38.702467716), (14.771881109, 41.229258418), (15, 43.835314539))
        make_face()
    cut_extrude_14 = extrude(amount=-CUT_EXTRUDE_14_DEPTH, mode=Mode.SUBTRACT)

    # 阵列(圆周)2: 切除-拉伸14 ×6 about axis
    pattern_circular_2_axis = Axis((0, 0, 0), (0, 1, 0))
    for i in range(1, PATTERN_CIRCULAR_2_COUNT):
        add(cut_extrude_14.rotate(pattern_circular_2_axis, i * 360 / PATTERN_CIRCULAR_2_COUNT), mode=Mode.SUBTRACT)


solid = part.part
